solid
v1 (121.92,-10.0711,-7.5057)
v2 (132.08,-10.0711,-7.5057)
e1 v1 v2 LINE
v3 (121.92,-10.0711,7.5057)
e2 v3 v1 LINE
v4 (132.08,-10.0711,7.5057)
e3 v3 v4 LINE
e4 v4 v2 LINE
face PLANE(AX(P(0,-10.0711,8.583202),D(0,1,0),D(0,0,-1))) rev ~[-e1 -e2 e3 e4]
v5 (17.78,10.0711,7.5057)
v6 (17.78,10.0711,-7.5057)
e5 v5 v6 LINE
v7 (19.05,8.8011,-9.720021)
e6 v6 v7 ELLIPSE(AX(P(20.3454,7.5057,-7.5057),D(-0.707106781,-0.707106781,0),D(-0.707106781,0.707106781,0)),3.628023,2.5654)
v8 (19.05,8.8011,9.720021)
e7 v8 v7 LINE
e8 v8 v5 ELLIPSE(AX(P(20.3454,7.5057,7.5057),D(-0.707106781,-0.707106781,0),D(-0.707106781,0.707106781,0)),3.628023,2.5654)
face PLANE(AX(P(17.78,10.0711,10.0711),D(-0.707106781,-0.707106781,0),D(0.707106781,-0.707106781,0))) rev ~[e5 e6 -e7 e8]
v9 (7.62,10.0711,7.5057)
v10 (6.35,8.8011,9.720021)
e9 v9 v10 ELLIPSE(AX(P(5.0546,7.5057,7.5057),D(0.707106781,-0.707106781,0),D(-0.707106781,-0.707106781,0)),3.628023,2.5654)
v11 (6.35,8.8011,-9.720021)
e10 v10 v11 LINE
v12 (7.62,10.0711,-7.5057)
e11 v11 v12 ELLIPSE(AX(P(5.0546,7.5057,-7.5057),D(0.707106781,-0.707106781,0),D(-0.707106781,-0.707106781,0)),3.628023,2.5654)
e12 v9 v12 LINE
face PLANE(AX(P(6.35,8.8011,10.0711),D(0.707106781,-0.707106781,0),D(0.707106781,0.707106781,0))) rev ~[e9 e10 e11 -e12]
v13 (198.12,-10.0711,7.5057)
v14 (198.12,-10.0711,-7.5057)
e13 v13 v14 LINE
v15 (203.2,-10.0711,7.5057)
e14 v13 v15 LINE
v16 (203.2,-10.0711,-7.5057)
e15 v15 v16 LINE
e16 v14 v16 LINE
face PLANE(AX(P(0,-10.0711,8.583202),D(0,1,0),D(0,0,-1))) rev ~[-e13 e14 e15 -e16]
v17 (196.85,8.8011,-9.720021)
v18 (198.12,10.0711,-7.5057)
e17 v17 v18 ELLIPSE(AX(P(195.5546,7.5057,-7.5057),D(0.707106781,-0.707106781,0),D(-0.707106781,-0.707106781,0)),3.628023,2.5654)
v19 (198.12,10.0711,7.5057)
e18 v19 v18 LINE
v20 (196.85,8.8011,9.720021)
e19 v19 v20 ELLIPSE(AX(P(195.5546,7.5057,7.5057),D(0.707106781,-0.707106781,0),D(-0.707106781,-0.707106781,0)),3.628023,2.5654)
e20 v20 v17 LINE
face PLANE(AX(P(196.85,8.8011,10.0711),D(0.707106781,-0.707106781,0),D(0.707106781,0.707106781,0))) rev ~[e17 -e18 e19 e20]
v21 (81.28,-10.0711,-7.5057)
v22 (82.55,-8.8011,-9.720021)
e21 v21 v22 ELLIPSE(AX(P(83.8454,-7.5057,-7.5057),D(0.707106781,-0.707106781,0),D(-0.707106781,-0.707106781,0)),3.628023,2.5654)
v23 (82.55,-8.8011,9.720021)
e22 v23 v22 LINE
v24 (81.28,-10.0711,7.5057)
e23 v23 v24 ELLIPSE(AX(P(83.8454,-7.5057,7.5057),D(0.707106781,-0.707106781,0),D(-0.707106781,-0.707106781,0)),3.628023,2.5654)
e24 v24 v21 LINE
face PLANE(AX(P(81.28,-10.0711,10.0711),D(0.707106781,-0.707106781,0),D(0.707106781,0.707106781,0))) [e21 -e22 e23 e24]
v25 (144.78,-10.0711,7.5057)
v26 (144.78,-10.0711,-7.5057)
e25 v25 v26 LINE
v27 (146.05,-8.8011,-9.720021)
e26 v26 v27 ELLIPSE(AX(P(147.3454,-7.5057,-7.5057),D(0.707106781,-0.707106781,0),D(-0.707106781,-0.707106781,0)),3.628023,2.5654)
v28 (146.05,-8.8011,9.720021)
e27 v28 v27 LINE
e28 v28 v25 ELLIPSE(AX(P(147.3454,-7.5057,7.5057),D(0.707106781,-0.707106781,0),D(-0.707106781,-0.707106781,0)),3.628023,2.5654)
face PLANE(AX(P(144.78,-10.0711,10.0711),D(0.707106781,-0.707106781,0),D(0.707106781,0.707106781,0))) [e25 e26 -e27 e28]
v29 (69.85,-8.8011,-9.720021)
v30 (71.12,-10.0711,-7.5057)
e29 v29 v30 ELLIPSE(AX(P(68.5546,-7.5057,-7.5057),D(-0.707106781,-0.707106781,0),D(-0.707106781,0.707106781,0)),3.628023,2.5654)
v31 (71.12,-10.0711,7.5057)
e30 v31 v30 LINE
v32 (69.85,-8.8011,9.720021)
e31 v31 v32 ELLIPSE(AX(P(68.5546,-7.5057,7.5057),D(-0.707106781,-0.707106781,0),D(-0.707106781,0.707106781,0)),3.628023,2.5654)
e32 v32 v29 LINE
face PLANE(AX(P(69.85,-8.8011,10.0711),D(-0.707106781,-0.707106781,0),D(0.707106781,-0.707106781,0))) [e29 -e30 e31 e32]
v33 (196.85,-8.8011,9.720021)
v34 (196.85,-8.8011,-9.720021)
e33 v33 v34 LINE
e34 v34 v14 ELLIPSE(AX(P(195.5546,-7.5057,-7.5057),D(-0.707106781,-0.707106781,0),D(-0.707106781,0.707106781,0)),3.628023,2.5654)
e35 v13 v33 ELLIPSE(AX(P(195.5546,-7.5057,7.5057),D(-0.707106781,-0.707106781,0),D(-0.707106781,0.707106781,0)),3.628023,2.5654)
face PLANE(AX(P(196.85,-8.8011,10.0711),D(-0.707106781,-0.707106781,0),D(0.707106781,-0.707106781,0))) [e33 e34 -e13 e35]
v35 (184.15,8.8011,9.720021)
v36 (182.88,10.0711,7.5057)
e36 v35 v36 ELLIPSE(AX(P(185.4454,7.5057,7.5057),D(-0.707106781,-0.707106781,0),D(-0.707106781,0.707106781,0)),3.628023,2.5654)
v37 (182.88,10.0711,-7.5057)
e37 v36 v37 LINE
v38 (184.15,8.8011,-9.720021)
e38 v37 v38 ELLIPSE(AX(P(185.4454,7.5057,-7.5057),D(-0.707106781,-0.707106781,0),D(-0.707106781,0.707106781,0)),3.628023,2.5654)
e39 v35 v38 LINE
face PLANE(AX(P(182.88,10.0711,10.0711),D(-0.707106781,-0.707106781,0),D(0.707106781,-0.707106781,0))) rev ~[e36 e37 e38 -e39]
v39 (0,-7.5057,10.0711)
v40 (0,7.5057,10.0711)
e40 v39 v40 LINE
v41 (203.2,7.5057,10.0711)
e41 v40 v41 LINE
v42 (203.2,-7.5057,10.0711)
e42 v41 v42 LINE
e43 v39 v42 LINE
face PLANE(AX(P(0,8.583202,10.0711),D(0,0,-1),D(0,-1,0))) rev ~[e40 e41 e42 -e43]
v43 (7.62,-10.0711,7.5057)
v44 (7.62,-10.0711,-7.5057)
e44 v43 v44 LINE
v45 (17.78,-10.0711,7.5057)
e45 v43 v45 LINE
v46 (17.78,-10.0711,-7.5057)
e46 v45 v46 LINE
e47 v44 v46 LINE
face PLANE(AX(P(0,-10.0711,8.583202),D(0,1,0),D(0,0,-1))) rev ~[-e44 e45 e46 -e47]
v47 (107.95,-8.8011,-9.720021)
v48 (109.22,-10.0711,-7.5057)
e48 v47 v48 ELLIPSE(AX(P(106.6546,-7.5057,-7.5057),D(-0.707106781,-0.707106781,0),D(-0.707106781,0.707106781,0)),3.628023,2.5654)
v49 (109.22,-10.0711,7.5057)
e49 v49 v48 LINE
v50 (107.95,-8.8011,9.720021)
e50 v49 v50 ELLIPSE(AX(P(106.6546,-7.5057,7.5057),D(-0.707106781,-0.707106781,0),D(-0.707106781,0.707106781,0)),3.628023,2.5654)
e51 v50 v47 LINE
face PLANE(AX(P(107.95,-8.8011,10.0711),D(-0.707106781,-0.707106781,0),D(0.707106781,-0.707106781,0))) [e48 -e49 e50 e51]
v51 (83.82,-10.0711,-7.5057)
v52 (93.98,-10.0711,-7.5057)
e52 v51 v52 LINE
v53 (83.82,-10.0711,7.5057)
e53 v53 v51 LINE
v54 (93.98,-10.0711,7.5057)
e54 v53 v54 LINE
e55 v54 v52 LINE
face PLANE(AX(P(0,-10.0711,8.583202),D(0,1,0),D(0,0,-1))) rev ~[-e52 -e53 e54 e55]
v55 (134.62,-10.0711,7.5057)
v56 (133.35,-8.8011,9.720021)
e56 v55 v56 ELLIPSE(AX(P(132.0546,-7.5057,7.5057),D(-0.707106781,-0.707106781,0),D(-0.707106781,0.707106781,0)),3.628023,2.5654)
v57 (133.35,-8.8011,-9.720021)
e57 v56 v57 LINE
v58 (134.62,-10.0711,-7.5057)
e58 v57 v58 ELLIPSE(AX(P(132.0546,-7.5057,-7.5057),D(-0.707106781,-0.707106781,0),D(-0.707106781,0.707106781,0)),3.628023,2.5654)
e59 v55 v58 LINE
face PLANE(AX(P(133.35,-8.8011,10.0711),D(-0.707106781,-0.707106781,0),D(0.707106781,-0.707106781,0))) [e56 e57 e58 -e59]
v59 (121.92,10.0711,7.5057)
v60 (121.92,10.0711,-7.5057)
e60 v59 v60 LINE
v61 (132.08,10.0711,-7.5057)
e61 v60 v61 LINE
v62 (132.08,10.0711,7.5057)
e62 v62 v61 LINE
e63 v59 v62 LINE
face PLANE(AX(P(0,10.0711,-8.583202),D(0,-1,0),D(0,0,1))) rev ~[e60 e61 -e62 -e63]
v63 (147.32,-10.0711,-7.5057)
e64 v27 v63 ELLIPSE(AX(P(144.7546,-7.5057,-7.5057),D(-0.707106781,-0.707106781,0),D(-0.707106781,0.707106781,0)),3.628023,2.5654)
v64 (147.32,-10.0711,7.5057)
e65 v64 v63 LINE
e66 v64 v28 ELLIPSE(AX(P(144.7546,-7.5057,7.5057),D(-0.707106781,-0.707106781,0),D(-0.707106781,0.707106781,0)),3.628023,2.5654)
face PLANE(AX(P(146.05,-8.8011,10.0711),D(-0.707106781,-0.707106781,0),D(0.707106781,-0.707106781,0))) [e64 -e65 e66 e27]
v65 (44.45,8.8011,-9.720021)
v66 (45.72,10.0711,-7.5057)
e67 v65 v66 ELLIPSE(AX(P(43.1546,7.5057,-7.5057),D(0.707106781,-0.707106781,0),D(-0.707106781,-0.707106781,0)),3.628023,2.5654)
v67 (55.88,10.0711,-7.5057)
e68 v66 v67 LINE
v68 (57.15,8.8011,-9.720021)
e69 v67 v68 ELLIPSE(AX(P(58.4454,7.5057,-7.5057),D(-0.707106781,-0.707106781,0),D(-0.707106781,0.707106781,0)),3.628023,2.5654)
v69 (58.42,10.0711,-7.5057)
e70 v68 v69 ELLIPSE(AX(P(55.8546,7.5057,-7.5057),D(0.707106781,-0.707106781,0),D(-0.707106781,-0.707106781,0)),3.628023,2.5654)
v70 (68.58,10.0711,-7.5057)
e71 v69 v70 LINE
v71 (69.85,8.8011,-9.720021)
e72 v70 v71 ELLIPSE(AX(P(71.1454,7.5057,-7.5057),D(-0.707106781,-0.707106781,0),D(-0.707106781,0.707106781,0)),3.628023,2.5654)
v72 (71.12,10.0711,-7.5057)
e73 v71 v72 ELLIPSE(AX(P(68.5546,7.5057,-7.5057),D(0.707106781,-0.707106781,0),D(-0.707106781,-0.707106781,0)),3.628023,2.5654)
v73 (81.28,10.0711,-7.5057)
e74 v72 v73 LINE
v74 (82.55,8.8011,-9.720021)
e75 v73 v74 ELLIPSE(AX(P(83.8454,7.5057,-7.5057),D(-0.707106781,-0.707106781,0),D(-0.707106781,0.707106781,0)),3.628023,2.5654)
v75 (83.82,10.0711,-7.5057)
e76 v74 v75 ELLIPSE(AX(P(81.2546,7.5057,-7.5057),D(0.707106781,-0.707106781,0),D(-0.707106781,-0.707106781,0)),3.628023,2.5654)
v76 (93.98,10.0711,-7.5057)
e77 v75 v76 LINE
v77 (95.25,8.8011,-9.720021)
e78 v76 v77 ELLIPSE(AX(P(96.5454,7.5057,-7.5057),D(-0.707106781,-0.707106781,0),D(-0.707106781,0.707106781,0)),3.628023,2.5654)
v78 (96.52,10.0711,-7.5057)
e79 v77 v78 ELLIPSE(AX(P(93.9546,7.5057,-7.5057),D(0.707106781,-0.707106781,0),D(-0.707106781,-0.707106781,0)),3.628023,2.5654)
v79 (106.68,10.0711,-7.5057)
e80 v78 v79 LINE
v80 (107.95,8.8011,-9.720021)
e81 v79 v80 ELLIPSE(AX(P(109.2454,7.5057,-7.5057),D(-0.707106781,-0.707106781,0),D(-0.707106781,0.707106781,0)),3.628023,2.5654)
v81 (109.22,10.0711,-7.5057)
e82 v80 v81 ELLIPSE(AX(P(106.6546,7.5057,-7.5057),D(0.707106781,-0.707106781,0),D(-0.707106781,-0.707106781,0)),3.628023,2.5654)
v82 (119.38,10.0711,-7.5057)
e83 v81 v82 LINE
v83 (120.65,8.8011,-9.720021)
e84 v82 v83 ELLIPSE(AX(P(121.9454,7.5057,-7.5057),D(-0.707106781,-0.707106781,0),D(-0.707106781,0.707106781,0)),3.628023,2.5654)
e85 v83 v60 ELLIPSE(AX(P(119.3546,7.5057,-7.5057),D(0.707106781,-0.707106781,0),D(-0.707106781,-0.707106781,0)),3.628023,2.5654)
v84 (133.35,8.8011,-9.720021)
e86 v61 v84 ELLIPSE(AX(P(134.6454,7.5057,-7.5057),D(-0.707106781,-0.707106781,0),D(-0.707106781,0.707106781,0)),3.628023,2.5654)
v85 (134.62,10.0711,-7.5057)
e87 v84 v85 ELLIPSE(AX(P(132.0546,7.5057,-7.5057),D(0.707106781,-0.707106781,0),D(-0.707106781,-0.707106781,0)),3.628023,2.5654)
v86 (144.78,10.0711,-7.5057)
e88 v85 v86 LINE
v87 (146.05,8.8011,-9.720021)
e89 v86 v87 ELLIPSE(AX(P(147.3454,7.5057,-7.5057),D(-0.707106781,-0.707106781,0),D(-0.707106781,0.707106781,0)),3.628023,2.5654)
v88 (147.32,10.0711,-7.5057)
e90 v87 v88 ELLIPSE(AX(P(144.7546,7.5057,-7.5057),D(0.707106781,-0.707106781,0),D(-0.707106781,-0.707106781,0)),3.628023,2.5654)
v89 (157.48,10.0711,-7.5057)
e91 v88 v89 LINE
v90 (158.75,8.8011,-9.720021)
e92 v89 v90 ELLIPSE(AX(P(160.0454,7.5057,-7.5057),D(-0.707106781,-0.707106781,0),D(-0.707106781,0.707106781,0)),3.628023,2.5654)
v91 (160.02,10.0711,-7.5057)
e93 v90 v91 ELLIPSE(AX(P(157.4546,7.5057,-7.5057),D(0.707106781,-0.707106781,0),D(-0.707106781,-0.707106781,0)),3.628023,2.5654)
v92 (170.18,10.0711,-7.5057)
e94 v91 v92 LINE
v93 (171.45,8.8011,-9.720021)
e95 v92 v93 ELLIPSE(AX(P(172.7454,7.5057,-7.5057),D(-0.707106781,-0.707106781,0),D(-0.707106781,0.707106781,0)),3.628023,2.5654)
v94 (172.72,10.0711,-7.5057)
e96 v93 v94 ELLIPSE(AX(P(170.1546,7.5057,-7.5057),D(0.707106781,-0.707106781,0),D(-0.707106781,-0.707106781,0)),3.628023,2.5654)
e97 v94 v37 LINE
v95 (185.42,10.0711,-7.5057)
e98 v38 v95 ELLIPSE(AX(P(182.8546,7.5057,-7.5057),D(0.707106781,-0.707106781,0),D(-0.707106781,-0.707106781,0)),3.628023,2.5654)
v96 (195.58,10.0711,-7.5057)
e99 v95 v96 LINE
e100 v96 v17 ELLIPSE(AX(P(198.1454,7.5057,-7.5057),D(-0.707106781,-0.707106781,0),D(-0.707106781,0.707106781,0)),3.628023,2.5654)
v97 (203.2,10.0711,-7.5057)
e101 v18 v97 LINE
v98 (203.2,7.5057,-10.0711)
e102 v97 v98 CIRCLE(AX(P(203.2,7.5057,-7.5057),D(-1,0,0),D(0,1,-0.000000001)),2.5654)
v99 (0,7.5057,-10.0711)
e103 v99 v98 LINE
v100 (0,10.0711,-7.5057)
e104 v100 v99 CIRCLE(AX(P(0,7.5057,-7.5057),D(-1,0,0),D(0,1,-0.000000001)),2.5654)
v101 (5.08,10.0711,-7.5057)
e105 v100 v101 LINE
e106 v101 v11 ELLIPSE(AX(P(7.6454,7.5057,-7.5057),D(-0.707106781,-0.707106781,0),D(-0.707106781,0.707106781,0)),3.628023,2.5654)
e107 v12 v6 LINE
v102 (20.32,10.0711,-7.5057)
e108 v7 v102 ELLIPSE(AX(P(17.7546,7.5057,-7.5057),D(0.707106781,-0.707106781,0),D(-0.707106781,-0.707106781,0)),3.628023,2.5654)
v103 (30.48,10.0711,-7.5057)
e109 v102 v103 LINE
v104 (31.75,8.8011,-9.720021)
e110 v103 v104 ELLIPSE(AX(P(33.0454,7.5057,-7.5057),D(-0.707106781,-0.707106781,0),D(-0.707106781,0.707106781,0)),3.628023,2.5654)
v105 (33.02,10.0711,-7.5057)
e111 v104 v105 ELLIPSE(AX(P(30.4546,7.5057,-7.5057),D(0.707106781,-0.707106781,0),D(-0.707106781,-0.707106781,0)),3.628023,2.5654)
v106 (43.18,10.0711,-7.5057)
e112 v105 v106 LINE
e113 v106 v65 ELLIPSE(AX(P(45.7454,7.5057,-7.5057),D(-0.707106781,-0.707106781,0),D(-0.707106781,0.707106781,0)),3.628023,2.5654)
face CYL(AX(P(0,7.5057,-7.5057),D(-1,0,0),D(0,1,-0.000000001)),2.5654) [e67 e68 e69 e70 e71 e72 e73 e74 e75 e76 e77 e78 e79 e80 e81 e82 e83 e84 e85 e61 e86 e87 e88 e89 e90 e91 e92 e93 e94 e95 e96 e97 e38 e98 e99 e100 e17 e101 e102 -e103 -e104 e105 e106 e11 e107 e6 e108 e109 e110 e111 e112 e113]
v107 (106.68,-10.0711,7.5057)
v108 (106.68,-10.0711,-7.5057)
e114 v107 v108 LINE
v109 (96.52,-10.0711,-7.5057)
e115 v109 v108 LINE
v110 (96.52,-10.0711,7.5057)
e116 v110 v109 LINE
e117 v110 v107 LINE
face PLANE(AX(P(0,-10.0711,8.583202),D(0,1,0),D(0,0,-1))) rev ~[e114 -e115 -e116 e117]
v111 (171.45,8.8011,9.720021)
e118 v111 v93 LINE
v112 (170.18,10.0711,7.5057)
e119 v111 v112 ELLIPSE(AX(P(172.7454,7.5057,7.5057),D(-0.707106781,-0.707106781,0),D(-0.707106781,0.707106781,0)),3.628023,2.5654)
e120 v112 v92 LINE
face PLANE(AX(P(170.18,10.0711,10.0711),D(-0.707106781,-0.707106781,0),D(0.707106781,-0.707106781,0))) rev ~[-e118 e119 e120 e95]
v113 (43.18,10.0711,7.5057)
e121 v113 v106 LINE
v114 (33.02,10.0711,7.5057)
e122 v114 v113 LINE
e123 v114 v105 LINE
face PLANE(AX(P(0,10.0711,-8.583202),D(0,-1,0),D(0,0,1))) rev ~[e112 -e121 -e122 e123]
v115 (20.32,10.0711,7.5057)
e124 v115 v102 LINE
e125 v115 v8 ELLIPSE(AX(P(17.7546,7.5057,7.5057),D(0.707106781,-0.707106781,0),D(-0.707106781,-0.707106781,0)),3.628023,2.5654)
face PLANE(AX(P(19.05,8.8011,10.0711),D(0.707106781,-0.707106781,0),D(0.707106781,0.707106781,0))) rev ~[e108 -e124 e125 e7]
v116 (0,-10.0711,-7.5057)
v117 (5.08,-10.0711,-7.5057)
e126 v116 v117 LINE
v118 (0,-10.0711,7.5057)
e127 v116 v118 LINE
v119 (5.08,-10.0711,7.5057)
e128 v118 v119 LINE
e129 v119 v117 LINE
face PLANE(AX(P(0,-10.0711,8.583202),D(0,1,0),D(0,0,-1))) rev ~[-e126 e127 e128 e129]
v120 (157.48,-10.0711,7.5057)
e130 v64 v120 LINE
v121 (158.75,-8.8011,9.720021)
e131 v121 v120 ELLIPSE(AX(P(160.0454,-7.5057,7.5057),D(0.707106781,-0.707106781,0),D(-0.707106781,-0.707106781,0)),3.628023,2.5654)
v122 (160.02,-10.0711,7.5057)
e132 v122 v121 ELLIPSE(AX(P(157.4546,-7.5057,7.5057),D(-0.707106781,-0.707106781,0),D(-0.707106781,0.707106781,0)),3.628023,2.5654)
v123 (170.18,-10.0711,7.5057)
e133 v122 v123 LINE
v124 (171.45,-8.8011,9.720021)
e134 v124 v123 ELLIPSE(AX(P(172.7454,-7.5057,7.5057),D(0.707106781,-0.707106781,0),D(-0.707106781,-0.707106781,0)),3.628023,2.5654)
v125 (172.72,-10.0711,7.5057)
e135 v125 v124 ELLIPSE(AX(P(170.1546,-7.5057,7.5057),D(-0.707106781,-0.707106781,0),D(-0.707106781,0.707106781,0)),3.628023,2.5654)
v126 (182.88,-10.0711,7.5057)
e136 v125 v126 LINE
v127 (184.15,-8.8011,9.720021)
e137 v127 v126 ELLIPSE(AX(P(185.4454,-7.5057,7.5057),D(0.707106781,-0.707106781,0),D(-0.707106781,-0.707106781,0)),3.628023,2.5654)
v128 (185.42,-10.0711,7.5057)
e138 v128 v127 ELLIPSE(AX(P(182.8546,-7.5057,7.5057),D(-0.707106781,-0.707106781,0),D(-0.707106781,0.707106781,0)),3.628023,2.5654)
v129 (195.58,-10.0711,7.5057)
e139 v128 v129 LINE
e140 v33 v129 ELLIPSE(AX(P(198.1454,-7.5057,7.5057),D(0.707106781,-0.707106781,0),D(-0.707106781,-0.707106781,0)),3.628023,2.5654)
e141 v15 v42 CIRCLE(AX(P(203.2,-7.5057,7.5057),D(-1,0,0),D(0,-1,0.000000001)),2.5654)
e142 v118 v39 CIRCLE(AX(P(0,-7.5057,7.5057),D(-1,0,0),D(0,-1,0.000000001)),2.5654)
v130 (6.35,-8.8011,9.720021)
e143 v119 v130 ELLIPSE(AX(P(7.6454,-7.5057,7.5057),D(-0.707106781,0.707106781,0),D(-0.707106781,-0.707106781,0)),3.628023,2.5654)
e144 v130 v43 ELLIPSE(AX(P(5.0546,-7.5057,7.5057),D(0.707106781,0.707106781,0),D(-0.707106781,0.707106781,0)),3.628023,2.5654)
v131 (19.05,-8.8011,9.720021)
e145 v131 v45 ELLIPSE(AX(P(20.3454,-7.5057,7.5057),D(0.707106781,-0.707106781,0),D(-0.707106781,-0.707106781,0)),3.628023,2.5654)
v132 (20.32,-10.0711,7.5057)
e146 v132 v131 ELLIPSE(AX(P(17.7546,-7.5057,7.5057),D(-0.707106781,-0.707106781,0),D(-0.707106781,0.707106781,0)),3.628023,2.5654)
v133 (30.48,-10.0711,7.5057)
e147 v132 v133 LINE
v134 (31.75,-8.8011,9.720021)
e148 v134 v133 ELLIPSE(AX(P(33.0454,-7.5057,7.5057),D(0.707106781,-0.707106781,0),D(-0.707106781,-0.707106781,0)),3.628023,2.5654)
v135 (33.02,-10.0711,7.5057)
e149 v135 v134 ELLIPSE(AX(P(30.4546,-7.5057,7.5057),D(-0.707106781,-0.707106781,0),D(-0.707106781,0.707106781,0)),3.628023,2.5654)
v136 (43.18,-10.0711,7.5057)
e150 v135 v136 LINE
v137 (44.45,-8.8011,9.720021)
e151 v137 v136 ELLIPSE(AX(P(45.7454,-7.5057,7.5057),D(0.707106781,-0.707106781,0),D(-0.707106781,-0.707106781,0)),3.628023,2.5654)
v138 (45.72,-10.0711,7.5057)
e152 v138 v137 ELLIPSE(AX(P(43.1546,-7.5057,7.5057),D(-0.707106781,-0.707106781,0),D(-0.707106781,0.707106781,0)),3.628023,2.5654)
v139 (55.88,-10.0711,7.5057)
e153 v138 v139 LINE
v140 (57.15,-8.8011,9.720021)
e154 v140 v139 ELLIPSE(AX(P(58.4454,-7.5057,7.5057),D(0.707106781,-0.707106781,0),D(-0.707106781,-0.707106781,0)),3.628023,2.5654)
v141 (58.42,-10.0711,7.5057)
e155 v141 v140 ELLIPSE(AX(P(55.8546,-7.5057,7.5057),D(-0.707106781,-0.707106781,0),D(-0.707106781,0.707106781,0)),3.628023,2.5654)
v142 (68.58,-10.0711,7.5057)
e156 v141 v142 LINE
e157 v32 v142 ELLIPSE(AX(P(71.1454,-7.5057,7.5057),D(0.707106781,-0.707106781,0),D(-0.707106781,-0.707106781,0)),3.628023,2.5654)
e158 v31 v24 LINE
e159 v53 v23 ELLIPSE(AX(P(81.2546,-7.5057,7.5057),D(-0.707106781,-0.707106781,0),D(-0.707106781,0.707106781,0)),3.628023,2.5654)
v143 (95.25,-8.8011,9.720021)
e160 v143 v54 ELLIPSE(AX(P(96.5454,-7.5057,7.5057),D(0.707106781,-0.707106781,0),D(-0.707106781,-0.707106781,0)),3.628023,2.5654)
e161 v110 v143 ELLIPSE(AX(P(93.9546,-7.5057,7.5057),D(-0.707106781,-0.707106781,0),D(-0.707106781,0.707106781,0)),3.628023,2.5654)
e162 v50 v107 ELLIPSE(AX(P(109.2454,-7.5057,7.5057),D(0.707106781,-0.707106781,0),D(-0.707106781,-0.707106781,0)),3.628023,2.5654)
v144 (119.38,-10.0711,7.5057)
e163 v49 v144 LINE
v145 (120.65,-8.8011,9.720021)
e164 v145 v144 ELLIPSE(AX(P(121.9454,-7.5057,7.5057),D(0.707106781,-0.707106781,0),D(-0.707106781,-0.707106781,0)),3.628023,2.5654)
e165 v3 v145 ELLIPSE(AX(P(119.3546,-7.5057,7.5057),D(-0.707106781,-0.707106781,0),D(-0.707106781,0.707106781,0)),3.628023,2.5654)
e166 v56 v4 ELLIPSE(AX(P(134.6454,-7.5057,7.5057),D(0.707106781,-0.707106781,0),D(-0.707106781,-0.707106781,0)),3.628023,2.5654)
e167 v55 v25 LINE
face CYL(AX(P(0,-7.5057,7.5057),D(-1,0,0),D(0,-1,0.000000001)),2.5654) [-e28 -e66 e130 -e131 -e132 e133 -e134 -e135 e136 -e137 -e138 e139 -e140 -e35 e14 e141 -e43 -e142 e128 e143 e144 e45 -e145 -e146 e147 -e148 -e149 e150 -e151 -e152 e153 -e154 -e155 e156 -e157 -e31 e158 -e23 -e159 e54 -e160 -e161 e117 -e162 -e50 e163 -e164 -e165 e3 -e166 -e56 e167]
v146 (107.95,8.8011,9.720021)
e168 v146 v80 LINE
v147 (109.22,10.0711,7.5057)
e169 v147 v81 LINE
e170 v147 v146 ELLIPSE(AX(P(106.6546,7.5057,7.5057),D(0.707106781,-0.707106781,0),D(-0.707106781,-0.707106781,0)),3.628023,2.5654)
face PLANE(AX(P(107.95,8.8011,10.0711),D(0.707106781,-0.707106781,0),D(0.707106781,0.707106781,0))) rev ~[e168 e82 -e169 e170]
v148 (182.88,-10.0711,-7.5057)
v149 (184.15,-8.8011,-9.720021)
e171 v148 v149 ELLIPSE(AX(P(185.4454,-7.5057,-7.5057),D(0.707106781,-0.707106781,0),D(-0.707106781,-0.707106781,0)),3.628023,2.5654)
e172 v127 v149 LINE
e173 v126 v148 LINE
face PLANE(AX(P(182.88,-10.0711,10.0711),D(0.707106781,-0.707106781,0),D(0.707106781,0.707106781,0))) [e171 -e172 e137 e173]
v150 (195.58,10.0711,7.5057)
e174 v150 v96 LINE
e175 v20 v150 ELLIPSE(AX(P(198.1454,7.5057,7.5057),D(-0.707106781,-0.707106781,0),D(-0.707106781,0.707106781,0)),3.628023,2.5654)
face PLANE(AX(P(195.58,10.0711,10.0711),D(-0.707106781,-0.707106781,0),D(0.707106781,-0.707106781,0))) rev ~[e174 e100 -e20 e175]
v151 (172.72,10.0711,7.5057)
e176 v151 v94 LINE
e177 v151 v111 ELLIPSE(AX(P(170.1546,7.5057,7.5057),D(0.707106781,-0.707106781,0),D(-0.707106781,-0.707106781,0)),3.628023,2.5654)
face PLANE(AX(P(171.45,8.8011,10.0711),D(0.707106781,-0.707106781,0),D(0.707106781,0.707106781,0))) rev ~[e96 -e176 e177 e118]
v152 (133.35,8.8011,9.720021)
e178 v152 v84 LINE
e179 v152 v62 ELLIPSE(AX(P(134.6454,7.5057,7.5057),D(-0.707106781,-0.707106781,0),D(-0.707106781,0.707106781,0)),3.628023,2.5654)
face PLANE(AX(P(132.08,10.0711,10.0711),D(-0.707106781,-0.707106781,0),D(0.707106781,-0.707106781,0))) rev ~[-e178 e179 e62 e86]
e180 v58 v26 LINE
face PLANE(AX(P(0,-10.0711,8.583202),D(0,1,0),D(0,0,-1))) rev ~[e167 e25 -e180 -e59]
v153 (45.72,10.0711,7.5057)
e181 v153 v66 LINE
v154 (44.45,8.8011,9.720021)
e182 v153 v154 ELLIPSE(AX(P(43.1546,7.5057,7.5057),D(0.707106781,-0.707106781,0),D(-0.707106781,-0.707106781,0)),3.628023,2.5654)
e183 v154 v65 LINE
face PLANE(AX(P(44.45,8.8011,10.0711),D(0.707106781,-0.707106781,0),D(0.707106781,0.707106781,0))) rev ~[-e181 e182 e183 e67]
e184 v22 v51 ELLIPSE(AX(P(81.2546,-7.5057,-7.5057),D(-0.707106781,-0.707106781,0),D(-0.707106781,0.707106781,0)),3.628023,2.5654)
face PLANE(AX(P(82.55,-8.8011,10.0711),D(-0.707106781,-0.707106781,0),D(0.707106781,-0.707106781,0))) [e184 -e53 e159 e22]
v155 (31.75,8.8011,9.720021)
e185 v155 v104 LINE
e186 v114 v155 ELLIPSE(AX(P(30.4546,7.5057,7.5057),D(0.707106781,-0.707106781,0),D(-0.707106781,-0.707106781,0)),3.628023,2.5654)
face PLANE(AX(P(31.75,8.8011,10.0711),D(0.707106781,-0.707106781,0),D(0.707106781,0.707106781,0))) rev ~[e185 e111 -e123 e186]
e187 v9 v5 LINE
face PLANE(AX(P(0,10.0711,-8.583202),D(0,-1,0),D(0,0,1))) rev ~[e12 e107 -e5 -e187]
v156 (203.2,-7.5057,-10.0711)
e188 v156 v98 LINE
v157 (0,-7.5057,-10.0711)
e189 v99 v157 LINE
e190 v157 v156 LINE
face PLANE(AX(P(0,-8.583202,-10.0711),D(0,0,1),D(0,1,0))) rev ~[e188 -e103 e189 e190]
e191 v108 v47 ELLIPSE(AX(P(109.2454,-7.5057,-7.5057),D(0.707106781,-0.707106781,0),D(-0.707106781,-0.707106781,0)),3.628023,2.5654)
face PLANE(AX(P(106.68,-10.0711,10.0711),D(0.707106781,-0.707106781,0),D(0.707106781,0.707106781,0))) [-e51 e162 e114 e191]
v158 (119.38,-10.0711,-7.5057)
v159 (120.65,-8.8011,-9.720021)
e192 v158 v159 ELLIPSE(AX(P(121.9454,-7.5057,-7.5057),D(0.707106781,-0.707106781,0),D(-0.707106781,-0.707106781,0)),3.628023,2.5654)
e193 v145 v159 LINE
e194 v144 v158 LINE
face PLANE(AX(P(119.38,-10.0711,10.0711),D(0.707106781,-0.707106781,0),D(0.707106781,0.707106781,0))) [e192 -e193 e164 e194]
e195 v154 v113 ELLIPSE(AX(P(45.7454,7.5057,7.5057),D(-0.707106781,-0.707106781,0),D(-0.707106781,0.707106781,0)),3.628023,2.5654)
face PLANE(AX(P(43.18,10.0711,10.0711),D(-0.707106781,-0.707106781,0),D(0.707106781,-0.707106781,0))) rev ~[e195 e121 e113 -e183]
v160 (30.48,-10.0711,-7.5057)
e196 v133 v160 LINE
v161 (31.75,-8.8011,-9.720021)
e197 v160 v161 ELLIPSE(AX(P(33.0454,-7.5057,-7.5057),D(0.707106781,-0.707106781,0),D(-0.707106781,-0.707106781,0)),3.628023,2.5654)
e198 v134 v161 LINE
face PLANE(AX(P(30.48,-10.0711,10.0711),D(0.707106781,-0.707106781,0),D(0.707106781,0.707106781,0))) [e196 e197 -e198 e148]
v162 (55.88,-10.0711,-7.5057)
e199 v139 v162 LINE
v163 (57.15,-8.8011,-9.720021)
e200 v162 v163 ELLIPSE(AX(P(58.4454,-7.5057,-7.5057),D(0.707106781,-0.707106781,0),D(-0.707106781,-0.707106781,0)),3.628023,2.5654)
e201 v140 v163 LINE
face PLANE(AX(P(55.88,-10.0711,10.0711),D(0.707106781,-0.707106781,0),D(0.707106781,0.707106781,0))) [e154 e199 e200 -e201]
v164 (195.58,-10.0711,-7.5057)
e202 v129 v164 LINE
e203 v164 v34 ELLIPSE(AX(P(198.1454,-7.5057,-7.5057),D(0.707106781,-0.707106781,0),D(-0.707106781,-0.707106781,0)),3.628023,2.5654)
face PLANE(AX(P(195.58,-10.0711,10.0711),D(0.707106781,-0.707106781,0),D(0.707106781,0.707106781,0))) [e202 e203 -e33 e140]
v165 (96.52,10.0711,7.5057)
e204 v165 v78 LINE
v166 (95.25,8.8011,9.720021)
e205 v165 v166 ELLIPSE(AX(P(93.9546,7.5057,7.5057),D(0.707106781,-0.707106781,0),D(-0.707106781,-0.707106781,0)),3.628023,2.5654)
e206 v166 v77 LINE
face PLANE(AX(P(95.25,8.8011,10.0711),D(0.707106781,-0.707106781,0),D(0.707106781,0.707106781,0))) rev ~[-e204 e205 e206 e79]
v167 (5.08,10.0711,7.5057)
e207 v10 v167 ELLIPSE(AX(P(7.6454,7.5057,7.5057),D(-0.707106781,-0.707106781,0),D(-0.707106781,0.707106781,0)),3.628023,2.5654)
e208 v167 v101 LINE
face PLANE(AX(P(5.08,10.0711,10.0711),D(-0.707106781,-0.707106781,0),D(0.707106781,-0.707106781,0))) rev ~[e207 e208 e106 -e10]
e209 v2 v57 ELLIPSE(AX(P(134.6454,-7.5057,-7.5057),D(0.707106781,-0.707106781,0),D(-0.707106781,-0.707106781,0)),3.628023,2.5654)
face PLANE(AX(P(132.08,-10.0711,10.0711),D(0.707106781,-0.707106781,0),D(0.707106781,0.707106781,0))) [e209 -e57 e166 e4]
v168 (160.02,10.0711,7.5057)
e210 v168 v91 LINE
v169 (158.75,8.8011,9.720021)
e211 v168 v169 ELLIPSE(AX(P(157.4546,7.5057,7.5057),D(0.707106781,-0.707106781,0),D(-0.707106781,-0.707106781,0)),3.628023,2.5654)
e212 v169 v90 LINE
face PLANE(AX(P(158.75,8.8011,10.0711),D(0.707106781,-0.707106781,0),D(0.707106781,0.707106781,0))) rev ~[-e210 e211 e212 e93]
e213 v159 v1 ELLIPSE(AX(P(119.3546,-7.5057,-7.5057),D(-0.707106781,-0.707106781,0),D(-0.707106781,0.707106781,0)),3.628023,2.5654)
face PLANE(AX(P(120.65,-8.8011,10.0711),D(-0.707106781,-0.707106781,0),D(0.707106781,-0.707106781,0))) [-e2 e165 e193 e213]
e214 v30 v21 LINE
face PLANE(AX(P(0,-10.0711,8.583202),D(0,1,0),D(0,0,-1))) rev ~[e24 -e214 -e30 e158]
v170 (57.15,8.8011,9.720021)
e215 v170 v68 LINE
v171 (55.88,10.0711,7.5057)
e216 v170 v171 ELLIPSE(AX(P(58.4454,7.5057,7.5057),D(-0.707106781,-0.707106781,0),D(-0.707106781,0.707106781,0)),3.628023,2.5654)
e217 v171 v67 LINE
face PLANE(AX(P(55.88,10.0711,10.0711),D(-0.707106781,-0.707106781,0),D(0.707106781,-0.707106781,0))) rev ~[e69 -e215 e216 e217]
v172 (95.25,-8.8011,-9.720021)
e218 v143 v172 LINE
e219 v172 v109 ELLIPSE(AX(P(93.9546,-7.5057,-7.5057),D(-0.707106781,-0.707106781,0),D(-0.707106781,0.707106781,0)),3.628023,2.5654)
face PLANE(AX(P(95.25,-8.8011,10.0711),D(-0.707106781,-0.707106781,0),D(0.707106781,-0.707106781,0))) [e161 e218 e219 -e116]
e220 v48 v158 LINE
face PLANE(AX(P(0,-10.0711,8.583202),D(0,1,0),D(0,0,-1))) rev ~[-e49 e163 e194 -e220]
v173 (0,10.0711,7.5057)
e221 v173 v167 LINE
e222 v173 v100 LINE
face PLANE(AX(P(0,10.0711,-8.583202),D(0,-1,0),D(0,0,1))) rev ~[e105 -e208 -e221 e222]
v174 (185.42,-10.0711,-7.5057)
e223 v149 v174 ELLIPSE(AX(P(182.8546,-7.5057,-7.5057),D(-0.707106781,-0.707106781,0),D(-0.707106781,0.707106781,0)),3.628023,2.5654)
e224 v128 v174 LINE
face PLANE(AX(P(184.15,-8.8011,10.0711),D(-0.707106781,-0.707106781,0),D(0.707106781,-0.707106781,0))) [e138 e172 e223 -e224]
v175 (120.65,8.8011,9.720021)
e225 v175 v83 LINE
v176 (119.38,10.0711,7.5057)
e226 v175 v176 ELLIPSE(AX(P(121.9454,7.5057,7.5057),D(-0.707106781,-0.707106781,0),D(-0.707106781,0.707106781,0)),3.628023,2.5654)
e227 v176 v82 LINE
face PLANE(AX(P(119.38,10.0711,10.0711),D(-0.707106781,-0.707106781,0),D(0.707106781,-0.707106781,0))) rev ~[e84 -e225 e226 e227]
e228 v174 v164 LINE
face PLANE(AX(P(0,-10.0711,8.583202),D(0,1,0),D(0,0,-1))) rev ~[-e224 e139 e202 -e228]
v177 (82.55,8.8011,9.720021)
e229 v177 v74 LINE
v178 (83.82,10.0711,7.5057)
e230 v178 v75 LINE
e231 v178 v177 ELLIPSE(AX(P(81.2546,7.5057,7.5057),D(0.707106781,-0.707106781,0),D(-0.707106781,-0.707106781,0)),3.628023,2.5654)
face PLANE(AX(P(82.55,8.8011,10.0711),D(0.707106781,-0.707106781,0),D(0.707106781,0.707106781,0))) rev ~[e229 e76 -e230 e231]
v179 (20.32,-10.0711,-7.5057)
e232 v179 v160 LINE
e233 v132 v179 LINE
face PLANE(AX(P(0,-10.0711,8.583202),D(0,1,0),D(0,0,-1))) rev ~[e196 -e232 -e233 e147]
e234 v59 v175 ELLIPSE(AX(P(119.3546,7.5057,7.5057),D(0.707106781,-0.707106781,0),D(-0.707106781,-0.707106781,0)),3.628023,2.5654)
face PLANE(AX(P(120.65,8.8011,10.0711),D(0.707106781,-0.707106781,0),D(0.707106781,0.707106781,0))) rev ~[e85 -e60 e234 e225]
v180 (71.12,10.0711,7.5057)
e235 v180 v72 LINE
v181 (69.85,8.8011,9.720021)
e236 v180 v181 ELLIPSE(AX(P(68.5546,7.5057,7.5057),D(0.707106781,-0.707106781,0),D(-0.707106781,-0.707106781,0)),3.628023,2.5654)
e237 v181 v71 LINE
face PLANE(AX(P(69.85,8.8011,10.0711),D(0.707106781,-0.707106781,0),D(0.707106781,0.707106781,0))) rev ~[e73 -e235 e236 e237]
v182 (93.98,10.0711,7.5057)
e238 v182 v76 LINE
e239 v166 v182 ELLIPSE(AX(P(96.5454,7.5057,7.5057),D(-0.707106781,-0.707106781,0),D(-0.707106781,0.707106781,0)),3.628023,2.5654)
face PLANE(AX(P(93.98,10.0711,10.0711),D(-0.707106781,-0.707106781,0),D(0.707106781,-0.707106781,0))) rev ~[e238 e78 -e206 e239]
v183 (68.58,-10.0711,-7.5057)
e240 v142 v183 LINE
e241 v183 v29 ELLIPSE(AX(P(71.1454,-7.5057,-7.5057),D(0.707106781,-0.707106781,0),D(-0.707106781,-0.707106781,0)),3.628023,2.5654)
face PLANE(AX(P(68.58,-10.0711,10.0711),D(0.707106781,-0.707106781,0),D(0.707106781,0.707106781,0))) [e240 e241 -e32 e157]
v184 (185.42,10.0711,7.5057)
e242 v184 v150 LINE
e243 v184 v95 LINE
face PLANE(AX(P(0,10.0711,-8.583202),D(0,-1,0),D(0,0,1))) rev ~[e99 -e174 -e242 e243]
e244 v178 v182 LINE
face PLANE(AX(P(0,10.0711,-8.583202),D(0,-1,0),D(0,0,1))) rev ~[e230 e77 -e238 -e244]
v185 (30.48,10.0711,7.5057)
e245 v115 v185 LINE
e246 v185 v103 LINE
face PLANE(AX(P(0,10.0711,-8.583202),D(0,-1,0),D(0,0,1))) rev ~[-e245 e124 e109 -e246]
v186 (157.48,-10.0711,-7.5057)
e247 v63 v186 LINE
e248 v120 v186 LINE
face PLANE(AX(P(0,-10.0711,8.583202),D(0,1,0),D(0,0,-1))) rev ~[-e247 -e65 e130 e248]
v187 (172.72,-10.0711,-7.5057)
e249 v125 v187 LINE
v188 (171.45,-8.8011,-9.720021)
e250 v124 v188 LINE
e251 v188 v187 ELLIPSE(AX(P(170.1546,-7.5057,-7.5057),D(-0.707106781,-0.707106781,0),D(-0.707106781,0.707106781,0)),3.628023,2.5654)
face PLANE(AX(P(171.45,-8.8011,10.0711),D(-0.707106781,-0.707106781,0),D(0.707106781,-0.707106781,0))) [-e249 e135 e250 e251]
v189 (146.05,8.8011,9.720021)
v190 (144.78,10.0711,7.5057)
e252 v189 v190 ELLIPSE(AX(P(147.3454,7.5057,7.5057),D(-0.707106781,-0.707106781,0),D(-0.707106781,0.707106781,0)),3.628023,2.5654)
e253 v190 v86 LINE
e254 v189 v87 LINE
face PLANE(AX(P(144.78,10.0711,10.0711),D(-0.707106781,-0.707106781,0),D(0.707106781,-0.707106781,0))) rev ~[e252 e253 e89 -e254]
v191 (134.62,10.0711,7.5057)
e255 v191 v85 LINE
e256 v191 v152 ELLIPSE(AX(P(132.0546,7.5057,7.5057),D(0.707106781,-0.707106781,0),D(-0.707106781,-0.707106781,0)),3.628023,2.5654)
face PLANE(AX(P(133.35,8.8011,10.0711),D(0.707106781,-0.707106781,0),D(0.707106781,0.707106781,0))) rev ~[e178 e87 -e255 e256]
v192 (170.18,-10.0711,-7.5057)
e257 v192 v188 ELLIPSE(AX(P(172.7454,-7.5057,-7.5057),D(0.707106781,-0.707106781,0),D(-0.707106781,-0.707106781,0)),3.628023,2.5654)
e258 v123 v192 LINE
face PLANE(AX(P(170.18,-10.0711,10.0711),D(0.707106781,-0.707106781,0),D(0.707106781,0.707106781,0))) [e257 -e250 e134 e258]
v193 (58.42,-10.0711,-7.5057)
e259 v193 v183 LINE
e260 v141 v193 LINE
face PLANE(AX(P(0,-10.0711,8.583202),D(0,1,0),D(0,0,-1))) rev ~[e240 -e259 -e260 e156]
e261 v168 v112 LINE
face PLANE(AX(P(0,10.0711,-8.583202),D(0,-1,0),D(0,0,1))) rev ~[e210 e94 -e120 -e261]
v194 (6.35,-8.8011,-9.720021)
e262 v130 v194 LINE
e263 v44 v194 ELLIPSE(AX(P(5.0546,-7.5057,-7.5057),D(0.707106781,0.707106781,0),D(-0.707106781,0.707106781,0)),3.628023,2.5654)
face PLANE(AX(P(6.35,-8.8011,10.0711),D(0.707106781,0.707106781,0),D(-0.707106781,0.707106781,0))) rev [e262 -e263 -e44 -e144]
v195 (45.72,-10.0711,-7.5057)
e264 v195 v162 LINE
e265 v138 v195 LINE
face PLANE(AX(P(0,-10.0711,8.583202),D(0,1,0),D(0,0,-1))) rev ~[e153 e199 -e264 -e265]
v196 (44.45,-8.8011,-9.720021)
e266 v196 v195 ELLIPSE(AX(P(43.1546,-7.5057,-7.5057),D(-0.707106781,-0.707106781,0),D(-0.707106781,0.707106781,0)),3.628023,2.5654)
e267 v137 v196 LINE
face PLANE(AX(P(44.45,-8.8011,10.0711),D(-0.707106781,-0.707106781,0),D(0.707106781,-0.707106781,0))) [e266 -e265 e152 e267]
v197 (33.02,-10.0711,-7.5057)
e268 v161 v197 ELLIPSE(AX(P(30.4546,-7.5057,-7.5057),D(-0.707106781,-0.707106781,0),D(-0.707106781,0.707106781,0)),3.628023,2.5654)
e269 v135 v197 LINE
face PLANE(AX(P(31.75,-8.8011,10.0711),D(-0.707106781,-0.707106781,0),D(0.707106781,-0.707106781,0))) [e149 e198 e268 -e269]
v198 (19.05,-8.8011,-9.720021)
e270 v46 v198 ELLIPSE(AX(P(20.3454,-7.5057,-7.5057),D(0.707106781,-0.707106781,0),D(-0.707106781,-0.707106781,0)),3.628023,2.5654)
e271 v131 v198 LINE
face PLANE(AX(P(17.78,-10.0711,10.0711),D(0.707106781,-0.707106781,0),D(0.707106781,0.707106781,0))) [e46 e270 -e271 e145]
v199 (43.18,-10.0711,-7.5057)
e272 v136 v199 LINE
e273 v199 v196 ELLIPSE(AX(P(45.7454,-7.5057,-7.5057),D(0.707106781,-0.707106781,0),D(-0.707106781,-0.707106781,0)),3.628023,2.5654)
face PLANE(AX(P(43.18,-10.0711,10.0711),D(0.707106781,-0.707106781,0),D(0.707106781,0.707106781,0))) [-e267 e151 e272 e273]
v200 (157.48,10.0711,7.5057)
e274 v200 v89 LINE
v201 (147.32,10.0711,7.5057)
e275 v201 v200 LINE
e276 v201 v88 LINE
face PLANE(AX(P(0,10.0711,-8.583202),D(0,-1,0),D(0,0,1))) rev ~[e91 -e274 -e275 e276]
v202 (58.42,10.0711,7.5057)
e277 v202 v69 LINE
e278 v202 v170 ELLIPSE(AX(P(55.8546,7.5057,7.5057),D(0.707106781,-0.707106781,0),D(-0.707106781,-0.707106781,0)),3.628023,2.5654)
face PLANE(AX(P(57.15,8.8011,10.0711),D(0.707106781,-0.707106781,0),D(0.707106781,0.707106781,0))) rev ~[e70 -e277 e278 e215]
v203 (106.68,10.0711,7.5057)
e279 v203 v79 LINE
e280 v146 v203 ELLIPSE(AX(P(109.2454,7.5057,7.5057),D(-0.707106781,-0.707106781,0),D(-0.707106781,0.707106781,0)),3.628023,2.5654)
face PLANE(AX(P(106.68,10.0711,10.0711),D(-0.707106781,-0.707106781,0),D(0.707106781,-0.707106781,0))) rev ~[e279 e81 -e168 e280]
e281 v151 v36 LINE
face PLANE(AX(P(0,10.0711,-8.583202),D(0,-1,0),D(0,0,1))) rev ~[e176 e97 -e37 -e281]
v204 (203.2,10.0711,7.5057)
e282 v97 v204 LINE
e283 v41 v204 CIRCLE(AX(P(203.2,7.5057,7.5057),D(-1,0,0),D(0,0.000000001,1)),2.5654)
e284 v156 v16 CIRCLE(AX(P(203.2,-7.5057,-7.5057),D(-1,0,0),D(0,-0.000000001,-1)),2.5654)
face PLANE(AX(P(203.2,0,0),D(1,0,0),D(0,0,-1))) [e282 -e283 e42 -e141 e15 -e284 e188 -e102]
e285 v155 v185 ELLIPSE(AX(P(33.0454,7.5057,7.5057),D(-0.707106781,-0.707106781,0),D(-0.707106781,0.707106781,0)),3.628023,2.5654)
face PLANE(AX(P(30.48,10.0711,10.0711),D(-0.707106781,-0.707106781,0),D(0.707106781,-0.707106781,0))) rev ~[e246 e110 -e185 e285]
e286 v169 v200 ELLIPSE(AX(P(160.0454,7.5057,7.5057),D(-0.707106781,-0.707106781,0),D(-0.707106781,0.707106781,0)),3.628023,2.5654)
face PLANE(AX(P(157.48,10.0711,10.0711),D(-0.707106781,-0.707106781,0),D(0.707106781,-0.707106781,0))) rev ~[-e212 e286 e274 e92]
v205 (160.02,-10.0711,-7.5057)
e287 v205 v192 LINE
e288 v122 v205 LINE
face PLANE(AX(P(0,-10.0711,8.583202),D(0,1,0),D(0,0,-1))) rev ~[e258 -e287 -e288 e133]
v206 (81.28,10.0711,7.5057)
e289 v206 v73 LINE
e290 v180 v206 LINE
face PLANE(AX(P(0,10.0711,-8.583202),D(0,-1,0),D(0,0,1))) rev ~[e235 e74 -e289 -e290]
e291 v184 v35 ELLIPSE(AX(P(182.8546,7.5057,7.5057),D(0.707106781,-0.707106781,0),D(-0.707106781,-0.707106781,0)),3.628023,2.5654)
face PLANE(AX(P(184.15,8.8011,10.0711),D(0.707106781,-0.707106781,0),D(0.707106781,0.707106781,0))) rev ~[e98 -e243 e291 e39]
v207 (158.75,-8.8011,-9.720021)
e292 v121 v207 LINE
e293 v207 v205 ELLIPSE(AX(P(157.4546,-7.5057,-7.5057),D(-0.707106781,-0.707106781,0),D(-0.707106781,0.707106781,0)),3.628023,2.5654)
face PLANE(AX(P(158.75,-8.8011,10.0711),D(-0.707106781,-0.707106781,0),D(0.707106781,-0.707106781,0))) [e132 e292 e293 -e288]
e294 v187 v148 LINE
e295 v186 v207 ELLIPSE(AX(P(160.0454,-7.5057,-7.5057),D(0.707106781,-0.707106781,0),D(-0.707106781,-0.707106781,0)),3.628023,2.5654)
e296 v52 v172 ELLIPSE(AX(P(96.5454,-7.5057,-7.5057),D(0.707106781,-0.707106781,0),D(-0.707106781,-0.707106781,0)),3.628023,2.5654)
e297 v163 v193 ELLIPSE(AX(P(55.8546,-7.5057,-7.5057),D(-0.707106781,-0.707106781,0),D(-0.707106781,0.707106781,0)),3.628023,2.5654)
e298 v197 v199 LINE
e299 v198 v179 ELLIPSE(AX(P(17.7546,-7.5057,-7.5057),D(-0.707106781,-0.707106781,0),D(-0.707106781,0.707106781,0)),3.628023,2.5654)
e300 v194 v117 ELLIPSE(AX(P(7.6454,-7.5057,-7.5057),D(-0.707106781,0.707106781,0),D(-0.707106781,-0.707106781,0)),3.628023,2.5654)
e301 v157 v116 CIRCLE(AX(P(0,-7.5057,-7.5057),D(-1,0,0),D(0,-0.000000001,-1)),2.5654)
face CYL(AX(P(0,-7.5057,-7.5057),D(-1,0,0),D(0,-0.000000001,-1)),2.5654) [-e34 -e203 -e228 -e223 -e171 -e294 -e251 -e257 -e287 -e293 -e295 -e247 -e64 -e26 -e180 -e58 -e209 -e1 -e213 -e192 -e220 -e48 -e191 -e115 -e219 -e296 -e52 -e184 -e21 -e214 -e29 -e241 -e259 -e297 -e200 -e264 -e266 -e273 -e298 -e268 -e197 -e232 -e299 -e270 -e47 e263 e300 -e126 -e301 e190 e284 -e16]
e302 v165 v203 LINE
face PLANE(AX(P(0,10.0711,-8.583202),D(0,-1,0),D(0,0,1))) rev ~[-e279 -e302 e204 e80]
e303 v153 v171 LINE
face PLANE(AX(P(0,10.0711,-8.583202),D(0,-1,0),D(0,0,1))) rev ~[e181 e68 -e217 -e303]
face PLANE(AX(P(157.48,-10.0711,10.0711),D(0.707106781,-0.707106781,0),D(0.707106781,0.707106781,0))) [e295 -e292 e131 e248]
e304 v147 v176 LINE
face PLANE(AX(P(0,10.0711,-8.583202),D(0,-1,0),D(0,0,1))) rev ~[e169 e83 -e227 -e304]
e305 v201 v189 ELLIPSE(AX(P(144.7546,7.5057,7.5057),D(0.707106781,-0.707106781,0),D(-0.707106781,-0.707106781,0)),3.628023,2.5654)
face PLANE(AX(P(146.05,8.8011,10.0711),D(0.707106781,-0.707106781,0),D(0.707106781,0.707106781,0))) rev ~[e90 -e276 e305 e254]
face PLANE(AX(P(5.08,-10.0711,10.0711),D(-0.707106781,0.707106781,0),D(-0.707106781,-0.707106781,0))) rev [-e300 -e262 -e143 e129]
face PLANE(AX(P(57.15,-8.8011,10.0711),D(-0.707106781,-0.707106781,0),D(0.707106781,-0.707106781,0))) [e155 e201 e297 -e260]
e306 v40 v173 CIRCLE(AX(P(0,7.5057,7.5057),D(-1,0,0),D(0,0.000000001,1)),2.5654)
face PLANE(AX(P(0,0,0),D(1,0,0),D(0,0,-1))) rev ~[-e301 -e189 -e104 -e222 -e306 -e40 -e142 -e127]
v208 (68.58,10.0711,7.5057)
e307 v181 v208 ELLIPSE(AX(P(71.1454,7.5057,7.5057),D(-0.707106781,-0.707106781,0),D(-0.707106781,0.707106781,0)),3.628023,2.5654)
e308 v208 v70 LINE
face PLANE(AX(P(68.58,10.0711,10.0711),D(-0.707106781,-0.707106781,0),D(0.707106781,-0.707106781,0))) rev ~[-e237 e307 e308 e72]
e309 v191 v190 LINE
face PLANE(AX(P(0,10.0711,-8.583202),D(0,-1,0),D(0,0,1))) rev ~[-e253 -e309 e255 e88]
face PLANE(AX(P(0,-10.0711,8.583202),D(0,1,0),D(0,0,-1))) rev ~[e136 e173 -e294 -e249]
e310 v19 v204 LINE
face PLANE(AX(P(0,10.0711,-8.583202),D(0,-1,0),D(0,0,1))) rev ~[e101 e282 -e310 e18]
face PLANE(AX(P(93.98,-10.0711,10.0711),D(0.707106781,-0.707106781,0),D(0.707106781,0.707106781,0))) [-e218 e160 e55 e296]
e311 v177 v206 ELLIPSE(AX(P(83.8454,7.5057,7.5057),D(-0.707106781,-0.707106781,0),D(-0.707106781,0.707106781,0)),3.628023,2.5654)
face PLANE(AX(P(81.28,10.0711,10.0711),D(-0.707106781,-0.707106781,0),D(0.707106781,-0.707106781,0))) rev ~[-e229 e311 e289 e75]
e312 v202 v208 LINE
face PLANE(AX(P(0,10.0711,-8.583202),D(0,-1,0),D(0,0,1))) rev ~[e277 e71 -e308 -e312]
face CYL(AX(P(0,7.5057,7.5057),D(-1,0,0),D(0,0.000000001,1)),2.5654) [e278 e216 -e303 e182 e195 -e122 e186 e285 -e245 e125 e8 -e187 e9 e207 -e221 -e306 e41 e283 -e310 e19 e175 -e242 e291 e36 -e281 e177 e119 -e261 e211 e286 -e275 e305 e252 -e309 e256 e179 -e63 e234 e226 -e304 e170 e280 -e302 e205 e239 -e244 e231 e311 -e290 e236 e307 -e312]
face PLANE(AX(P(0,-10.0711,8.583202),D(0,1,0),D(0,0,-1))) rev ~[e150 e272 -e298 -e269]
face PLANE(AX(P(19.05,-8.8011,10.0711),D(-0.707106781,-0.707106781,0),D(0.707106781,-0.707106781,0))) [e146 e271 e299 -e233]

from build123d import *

# Parameters (mm, degrees)
BOSS_EXTRUDE1_DEPTH   = 203.2
CUT_EXTRUDE1_DEPTH    = 21.1422
LPATTERN1_COUNT       = 16
LPATTERN1_PITCH       = 12.7
MIRROR1_COPY_1_DEPTH  = 21.1422
MIRROR1_COPY_2_DEPTH  = 21.1422
MIRROR1_COPY_3_DEPTH  = 21.1422
MIRROR1_COPY_4_DEPTH  = 21.1422
MIRROR1_COPY_5_DEPTH  = 21.1422
MIRROR1_COPY_6_DEPTH  = 21.1422
MIRROR1_COPY_7_DEPTH  = 21.1422
MIRROR1_COPY_8_DEPTH  = 21.1422
MIRROR1_COPY_9_DEPTH  = 21.1422
MIRROR1_COPY_10_DEPTH = 21.1422
MIRROR1_COPY_11_DEPTH = 21.1422
MIRROR1_COPY_12_DEPTH = 21.1422
MIRROR1_COPY_13_DEPTH = 21.1422
MIRROR1_COPY_14_DEPTH = 21.1422
MIRROR1_COPY_15_DEPTH = 21.1422
SKETCH3_OUTSIDE_W     = 63.18
SKETCH3_OUTSIDE_H     = 63.18
CUT_EXTRUDE2_DEPTH    = 204.2


with BuildPart() as part:
    # Sketch1 → Boss-Extrude1 (new body)
    with BuildSketch(Plane(origin=(0, 0, 0), x_dir=(0, 0, -1), z_dir=(1, 0, 0))):
        Polygon((-7.5311, 10.0711), (-8.583202448, 10.0711), (-10.0711, 8.583202448), (-10.0711, 7.5311), (-10.0711, -7.5311), (-10.0711, -8.583202448), (-8.583202448, -10.0711), (-7.5311, -10.0711), (7.5311, -10.0711), (8.583202448, -10.0711), (10.0711, -8.583202448), (10.0711, -7.5311), (10.0711, 7.5311), (10.0711, 8.583202448), (8.583202448, 10.0711), (7.5311, 10.0711), align=None)
    extrude(amount=BOSS_EXTRUDE1_DEPTH)

    # Sketch2 → Cut-Extrude1 (cut, through all)
    with BuildSketch(Plane.XY.offset(10.0711)):
        Polygon((5.08, 10.0711), (6.35, 8.8011), (7.62, 10.0711), align=None)
    cut_extrude1 = extrude(amount=-CUT_EXTRUDE1_DEPTH, mode=Mode.SUBTRACT)

    # LPattern1: Cut-Extrude1 ×16
    with Locations(*[(i * LPATTERN1_PITCH, 0, 0) for i in range(1, LPATTERN1_COUNT)]):
        add(cut_extrude1, mode=Mode.SUBTRACT)

    # Mirror1: Cut-Extrude1 across plane
    add(cut_extrude1.mirror(Plane.ZX), mode=Mode.SUBTRACT)

    # Mirror1 copy 1 sketch → Mirror1 copy 1 (cut, through all)
    with BuildSketch(Plane(origin=(12.7, 0, 10.0711), x_dir=(1, 0, 0), z_dir=(0, 0, 1))):
        Polygon((5.08, -10.0711), (6.35, -8.8011), (7.62, -10.0711), align=None)
    extrude(amount=-MIRROR1_COPY_1_DEPTH, mode=Mode.SUBTRACT)

    # Mirror1 copy 2 sketch → Mirror1 copy 2 (cut, through all)
    with BuildSketch(Plane(origin=(25.4, 0, 10.0711), x_dir=(1, 0, 0), z_dir=(0, 0, 1))):
        Polygon((5.08, -10.0711), (6.35, -8.8011), (7.62, -10.0711), align=None)
    extrude(amount=-MIRROR1_COPY_2_DEPTH, mode=Mode.SUBTRACT)

    # Mirror1 copy 3 sketch → Mirror1 copy 3 (cut, through all)
    with BuildSketch(Plane(origin=(38.1, 0, 10.0711), x_dir=(1, 0, 0), z_dir=(0, 0, 1))):
        Polygon((5.08, -10.0711), (6.35, -8.8011), (7.62, -10.0711), align=None)
    extrude(amount=-MIRROR1_COPY_3_DEPTH, mode=Mode.SUBTRACT)

    # Mirror1 copy 4 sketch → Mirror1 copy 4 (cut, through all)
    with BuildSketch(Plane(origin=(50.8, 0, 10.0711), x_dir=(1, 0, 0), z_dir=(0, 0, 1))):
        Polygon((5.08, -10.0711), (6.35, -8.8011), (7.62, -10.0711), align=None)
    extrude(amount=-MIRROR1_COPY_4_DEPTH, mode=Mode.SUBTRACT)

    # Mirror1 copy 5 sketch → Mirror1 copy 5 (cut, through all)
    with BuildSketch(Plane(origin=(63.5, 0, 10.0711), x_dir=(1, 0, 0), z_dir=(0, 0, 1))):
        Polygon((5.08, -10.0711), (6.35, -8.8011), (7.62, -10.0711), align=None)
    extrude(amount=-MIRROR1_COPY_5_DEPTH, mode=Mode.SUBTRACT)

    # Mirror1 copy 6 sketch → Mirror1 copy 6 (cut, through all)
    with BuildSketch(Plane(origin=(76.2, 0, 10.0711), x_dir=(1, 0, 0), z_dir=(0, 0, 1))):
        Polygon((5.08, -10.0711), (6.35, -8.8011), (7.62, -10.0711), align=None)
    extrude(amount=-MIRROR1_COPY_6_DEPTH, mode=Mode.SUBTRACT)

    # Mirror1 copy 7 sketch → Mirror1 copy 7 (cut, through all)
    with BuildSketch(Plane(origin=(88.9, 0, 10.0711), x_dir=(1, 0, 0), z_dir=(0, 0, 1))):
        Polygon((5.08, -10.0711), (6.35, -8.8011), (7.62, -10.0711), align=None)
    extrude(amount=-MIRROR1_COPY_7_DEPTH, mode=Mode.SUBTRACT)

    # Mirror1 copy 8 sketch → Mirror1 copy 8 (cut, through all)
    with BuildSketch(Plane(origin=(101.6, 0, 10.0711), x_dir=(1, 0, 0), z_dir=(0, 0, 1))):
        Polygon((5.08, -10.0711), (6.35, -8.8011), (7.62, -10.0711), align=None)
    extrude(amount=-MIRROR1_COPY_8_DEPTH, mode=Mode.SUBTRACT)

    # Mirror1 copy 9 sketch → Mirror1 copy 9 (cut, through all)
    with BuildSketch(Plane(origin=(114.3, 0, 10.0711), x_dir=(1, 0, 0), z_dir=(0, 0, 1))):
        Polygon((5.08, -10.0711), (6.35, -8.8011), (7.62, -10.0711), align=None)
    extrude(amount=-MIRROR1_COPY_9_DEPTH, mode=Mode.SUBTRACT)

    # Mirror1 copy 10 sketch → Mirror1 copy 10 (cut, through all)
    with BuildSketch(Plane(origin=(127, 0, 10.0711), x_dir=(1, 0, 0), z_dir=(0, 0, 1))):
        Polygon((5.08, -10.0711), (6.35, -8.8011), (7.62, -10.0711), align=None)
    extrude(amount=-MIRROR1_COPY_10_DEPTH, mode=Mode.SUBTRACT)

    # Mirror1 copy 11 sketch → Mirror1 copy 11 (cut, through all)
    with BuildSketch(Plane(origin=(139.7, 0, 10.0711), x_dir=(1, 0, 0), z_dir=(0, 0, 1))):
        Polygon((5.08, -10.0711), (6.35, -8.8011), (7.62, -10.0711), align=None)
    extrude(amount=-MIRROR1_COPY_11_DEPTH, mode=Mode.SUBTRACT)

    # Mirror1 copy 12 sketch → Mirror1 copy 12 (cut, through all)
    with BuildSketch(Plane(origin=(152.4, 0, 10.0711), x_dir=(1, 0, 0), z_dir=(0, 0, 1))):
        Polygon((5.08, -10.0711), (6.35, -8.8011), (7.62, -10.0711), align=None)
    extrude(amount=-MIRROR1_COPY_12_DEPTH, mode=Mode.SUBTRACT)

    # Mirror1 copy 13 sketch → Mirror1 copy 13 (cut, through all)
    with BuildSketch(Plane(origin=(165.1, 0, 10.0711), x_dir=(1, 0, 0), z_dir=(0, 0, 1))):
        Polygon((5.08, -10.0711), (6.35, -8.8011), (7.62, -10.0711), align=None)
    extrude(amount=-MIRROR1_COPY_13_DEPTH, mode=Mode.SUBTRACT)

    # Mirror1 copy 14 sketch → Mirror1 copy 14 (cut, through all)
    with BuildSketch(Plane(origin=(177.8, 0, 10.0711), x_dir=(1, 0, 0), z_dir=(0, 0, 1))):
        Polygon((5.08, -10.0711), (6.35, -8.8011), (7.62, -10.0711), align=None)
    extrude(amount=-MIRROR1_COPY_14_DEPTH, mode=Mode.SUBTRACT)

    # Mirror1 copy 15 sketch → Mirror1 copy 15 (cut, through all)
    with BuildSketch(Plane(origin=(190.5, 0, 10.0711), x_dir=(1, 0, 0), z_dir=(0, 0, 1))):
        Polygon((5.08, -10.0711), (6.35, -8.8011), (7.62, -10.0711), align=None)
    extrude(amount=-MIRROR1_COPY_15_DEPTH, mode=Mode.SUBTRACT)

    # Sketch3 outside → Cut-Extrude2 (cut, through all)
    with BuildSketch(Plane.ZY):
        Rectangle(SKETCH3_OUTSIDE_W, SKETCH3_OUTSIDE_H)
        with BuildLine():
            Line((10.0711, -7.5057), (10.0711, 7.5057))
            ThreePointArc((10.0711, 7.5057), (9.319711736, 9.319711736), (7.5057, 10.0711))
            Line((7.5057, 10.0711), (-7.5057, 10.0711))
            ThreePointArc((-7.5057, 10.0711), (-9.319711736, 9.319711736), (-10.0711, 7.5057))
            Line((-10.0711, 7.5057), (-10.0711, -7.5057))
            ThreePointArc((-10.0711, -7.5057), (-9.319711736, -9.319711736), (-7.5057, -10.0711))
            Line((-7.5057, -10.0711), (7.5057, -10.0711))
            ThreePointArc((7.5057, -10.0711), (9.319711736, -9.319711736), (10.0711, -7.5057))
        make_face(mode=Mode.SUBTRACT)
    extrude(amount=-CUT_EXTRUDE2_DEPTH, mode=Mode.SUBTRACT)


solid = part.part
